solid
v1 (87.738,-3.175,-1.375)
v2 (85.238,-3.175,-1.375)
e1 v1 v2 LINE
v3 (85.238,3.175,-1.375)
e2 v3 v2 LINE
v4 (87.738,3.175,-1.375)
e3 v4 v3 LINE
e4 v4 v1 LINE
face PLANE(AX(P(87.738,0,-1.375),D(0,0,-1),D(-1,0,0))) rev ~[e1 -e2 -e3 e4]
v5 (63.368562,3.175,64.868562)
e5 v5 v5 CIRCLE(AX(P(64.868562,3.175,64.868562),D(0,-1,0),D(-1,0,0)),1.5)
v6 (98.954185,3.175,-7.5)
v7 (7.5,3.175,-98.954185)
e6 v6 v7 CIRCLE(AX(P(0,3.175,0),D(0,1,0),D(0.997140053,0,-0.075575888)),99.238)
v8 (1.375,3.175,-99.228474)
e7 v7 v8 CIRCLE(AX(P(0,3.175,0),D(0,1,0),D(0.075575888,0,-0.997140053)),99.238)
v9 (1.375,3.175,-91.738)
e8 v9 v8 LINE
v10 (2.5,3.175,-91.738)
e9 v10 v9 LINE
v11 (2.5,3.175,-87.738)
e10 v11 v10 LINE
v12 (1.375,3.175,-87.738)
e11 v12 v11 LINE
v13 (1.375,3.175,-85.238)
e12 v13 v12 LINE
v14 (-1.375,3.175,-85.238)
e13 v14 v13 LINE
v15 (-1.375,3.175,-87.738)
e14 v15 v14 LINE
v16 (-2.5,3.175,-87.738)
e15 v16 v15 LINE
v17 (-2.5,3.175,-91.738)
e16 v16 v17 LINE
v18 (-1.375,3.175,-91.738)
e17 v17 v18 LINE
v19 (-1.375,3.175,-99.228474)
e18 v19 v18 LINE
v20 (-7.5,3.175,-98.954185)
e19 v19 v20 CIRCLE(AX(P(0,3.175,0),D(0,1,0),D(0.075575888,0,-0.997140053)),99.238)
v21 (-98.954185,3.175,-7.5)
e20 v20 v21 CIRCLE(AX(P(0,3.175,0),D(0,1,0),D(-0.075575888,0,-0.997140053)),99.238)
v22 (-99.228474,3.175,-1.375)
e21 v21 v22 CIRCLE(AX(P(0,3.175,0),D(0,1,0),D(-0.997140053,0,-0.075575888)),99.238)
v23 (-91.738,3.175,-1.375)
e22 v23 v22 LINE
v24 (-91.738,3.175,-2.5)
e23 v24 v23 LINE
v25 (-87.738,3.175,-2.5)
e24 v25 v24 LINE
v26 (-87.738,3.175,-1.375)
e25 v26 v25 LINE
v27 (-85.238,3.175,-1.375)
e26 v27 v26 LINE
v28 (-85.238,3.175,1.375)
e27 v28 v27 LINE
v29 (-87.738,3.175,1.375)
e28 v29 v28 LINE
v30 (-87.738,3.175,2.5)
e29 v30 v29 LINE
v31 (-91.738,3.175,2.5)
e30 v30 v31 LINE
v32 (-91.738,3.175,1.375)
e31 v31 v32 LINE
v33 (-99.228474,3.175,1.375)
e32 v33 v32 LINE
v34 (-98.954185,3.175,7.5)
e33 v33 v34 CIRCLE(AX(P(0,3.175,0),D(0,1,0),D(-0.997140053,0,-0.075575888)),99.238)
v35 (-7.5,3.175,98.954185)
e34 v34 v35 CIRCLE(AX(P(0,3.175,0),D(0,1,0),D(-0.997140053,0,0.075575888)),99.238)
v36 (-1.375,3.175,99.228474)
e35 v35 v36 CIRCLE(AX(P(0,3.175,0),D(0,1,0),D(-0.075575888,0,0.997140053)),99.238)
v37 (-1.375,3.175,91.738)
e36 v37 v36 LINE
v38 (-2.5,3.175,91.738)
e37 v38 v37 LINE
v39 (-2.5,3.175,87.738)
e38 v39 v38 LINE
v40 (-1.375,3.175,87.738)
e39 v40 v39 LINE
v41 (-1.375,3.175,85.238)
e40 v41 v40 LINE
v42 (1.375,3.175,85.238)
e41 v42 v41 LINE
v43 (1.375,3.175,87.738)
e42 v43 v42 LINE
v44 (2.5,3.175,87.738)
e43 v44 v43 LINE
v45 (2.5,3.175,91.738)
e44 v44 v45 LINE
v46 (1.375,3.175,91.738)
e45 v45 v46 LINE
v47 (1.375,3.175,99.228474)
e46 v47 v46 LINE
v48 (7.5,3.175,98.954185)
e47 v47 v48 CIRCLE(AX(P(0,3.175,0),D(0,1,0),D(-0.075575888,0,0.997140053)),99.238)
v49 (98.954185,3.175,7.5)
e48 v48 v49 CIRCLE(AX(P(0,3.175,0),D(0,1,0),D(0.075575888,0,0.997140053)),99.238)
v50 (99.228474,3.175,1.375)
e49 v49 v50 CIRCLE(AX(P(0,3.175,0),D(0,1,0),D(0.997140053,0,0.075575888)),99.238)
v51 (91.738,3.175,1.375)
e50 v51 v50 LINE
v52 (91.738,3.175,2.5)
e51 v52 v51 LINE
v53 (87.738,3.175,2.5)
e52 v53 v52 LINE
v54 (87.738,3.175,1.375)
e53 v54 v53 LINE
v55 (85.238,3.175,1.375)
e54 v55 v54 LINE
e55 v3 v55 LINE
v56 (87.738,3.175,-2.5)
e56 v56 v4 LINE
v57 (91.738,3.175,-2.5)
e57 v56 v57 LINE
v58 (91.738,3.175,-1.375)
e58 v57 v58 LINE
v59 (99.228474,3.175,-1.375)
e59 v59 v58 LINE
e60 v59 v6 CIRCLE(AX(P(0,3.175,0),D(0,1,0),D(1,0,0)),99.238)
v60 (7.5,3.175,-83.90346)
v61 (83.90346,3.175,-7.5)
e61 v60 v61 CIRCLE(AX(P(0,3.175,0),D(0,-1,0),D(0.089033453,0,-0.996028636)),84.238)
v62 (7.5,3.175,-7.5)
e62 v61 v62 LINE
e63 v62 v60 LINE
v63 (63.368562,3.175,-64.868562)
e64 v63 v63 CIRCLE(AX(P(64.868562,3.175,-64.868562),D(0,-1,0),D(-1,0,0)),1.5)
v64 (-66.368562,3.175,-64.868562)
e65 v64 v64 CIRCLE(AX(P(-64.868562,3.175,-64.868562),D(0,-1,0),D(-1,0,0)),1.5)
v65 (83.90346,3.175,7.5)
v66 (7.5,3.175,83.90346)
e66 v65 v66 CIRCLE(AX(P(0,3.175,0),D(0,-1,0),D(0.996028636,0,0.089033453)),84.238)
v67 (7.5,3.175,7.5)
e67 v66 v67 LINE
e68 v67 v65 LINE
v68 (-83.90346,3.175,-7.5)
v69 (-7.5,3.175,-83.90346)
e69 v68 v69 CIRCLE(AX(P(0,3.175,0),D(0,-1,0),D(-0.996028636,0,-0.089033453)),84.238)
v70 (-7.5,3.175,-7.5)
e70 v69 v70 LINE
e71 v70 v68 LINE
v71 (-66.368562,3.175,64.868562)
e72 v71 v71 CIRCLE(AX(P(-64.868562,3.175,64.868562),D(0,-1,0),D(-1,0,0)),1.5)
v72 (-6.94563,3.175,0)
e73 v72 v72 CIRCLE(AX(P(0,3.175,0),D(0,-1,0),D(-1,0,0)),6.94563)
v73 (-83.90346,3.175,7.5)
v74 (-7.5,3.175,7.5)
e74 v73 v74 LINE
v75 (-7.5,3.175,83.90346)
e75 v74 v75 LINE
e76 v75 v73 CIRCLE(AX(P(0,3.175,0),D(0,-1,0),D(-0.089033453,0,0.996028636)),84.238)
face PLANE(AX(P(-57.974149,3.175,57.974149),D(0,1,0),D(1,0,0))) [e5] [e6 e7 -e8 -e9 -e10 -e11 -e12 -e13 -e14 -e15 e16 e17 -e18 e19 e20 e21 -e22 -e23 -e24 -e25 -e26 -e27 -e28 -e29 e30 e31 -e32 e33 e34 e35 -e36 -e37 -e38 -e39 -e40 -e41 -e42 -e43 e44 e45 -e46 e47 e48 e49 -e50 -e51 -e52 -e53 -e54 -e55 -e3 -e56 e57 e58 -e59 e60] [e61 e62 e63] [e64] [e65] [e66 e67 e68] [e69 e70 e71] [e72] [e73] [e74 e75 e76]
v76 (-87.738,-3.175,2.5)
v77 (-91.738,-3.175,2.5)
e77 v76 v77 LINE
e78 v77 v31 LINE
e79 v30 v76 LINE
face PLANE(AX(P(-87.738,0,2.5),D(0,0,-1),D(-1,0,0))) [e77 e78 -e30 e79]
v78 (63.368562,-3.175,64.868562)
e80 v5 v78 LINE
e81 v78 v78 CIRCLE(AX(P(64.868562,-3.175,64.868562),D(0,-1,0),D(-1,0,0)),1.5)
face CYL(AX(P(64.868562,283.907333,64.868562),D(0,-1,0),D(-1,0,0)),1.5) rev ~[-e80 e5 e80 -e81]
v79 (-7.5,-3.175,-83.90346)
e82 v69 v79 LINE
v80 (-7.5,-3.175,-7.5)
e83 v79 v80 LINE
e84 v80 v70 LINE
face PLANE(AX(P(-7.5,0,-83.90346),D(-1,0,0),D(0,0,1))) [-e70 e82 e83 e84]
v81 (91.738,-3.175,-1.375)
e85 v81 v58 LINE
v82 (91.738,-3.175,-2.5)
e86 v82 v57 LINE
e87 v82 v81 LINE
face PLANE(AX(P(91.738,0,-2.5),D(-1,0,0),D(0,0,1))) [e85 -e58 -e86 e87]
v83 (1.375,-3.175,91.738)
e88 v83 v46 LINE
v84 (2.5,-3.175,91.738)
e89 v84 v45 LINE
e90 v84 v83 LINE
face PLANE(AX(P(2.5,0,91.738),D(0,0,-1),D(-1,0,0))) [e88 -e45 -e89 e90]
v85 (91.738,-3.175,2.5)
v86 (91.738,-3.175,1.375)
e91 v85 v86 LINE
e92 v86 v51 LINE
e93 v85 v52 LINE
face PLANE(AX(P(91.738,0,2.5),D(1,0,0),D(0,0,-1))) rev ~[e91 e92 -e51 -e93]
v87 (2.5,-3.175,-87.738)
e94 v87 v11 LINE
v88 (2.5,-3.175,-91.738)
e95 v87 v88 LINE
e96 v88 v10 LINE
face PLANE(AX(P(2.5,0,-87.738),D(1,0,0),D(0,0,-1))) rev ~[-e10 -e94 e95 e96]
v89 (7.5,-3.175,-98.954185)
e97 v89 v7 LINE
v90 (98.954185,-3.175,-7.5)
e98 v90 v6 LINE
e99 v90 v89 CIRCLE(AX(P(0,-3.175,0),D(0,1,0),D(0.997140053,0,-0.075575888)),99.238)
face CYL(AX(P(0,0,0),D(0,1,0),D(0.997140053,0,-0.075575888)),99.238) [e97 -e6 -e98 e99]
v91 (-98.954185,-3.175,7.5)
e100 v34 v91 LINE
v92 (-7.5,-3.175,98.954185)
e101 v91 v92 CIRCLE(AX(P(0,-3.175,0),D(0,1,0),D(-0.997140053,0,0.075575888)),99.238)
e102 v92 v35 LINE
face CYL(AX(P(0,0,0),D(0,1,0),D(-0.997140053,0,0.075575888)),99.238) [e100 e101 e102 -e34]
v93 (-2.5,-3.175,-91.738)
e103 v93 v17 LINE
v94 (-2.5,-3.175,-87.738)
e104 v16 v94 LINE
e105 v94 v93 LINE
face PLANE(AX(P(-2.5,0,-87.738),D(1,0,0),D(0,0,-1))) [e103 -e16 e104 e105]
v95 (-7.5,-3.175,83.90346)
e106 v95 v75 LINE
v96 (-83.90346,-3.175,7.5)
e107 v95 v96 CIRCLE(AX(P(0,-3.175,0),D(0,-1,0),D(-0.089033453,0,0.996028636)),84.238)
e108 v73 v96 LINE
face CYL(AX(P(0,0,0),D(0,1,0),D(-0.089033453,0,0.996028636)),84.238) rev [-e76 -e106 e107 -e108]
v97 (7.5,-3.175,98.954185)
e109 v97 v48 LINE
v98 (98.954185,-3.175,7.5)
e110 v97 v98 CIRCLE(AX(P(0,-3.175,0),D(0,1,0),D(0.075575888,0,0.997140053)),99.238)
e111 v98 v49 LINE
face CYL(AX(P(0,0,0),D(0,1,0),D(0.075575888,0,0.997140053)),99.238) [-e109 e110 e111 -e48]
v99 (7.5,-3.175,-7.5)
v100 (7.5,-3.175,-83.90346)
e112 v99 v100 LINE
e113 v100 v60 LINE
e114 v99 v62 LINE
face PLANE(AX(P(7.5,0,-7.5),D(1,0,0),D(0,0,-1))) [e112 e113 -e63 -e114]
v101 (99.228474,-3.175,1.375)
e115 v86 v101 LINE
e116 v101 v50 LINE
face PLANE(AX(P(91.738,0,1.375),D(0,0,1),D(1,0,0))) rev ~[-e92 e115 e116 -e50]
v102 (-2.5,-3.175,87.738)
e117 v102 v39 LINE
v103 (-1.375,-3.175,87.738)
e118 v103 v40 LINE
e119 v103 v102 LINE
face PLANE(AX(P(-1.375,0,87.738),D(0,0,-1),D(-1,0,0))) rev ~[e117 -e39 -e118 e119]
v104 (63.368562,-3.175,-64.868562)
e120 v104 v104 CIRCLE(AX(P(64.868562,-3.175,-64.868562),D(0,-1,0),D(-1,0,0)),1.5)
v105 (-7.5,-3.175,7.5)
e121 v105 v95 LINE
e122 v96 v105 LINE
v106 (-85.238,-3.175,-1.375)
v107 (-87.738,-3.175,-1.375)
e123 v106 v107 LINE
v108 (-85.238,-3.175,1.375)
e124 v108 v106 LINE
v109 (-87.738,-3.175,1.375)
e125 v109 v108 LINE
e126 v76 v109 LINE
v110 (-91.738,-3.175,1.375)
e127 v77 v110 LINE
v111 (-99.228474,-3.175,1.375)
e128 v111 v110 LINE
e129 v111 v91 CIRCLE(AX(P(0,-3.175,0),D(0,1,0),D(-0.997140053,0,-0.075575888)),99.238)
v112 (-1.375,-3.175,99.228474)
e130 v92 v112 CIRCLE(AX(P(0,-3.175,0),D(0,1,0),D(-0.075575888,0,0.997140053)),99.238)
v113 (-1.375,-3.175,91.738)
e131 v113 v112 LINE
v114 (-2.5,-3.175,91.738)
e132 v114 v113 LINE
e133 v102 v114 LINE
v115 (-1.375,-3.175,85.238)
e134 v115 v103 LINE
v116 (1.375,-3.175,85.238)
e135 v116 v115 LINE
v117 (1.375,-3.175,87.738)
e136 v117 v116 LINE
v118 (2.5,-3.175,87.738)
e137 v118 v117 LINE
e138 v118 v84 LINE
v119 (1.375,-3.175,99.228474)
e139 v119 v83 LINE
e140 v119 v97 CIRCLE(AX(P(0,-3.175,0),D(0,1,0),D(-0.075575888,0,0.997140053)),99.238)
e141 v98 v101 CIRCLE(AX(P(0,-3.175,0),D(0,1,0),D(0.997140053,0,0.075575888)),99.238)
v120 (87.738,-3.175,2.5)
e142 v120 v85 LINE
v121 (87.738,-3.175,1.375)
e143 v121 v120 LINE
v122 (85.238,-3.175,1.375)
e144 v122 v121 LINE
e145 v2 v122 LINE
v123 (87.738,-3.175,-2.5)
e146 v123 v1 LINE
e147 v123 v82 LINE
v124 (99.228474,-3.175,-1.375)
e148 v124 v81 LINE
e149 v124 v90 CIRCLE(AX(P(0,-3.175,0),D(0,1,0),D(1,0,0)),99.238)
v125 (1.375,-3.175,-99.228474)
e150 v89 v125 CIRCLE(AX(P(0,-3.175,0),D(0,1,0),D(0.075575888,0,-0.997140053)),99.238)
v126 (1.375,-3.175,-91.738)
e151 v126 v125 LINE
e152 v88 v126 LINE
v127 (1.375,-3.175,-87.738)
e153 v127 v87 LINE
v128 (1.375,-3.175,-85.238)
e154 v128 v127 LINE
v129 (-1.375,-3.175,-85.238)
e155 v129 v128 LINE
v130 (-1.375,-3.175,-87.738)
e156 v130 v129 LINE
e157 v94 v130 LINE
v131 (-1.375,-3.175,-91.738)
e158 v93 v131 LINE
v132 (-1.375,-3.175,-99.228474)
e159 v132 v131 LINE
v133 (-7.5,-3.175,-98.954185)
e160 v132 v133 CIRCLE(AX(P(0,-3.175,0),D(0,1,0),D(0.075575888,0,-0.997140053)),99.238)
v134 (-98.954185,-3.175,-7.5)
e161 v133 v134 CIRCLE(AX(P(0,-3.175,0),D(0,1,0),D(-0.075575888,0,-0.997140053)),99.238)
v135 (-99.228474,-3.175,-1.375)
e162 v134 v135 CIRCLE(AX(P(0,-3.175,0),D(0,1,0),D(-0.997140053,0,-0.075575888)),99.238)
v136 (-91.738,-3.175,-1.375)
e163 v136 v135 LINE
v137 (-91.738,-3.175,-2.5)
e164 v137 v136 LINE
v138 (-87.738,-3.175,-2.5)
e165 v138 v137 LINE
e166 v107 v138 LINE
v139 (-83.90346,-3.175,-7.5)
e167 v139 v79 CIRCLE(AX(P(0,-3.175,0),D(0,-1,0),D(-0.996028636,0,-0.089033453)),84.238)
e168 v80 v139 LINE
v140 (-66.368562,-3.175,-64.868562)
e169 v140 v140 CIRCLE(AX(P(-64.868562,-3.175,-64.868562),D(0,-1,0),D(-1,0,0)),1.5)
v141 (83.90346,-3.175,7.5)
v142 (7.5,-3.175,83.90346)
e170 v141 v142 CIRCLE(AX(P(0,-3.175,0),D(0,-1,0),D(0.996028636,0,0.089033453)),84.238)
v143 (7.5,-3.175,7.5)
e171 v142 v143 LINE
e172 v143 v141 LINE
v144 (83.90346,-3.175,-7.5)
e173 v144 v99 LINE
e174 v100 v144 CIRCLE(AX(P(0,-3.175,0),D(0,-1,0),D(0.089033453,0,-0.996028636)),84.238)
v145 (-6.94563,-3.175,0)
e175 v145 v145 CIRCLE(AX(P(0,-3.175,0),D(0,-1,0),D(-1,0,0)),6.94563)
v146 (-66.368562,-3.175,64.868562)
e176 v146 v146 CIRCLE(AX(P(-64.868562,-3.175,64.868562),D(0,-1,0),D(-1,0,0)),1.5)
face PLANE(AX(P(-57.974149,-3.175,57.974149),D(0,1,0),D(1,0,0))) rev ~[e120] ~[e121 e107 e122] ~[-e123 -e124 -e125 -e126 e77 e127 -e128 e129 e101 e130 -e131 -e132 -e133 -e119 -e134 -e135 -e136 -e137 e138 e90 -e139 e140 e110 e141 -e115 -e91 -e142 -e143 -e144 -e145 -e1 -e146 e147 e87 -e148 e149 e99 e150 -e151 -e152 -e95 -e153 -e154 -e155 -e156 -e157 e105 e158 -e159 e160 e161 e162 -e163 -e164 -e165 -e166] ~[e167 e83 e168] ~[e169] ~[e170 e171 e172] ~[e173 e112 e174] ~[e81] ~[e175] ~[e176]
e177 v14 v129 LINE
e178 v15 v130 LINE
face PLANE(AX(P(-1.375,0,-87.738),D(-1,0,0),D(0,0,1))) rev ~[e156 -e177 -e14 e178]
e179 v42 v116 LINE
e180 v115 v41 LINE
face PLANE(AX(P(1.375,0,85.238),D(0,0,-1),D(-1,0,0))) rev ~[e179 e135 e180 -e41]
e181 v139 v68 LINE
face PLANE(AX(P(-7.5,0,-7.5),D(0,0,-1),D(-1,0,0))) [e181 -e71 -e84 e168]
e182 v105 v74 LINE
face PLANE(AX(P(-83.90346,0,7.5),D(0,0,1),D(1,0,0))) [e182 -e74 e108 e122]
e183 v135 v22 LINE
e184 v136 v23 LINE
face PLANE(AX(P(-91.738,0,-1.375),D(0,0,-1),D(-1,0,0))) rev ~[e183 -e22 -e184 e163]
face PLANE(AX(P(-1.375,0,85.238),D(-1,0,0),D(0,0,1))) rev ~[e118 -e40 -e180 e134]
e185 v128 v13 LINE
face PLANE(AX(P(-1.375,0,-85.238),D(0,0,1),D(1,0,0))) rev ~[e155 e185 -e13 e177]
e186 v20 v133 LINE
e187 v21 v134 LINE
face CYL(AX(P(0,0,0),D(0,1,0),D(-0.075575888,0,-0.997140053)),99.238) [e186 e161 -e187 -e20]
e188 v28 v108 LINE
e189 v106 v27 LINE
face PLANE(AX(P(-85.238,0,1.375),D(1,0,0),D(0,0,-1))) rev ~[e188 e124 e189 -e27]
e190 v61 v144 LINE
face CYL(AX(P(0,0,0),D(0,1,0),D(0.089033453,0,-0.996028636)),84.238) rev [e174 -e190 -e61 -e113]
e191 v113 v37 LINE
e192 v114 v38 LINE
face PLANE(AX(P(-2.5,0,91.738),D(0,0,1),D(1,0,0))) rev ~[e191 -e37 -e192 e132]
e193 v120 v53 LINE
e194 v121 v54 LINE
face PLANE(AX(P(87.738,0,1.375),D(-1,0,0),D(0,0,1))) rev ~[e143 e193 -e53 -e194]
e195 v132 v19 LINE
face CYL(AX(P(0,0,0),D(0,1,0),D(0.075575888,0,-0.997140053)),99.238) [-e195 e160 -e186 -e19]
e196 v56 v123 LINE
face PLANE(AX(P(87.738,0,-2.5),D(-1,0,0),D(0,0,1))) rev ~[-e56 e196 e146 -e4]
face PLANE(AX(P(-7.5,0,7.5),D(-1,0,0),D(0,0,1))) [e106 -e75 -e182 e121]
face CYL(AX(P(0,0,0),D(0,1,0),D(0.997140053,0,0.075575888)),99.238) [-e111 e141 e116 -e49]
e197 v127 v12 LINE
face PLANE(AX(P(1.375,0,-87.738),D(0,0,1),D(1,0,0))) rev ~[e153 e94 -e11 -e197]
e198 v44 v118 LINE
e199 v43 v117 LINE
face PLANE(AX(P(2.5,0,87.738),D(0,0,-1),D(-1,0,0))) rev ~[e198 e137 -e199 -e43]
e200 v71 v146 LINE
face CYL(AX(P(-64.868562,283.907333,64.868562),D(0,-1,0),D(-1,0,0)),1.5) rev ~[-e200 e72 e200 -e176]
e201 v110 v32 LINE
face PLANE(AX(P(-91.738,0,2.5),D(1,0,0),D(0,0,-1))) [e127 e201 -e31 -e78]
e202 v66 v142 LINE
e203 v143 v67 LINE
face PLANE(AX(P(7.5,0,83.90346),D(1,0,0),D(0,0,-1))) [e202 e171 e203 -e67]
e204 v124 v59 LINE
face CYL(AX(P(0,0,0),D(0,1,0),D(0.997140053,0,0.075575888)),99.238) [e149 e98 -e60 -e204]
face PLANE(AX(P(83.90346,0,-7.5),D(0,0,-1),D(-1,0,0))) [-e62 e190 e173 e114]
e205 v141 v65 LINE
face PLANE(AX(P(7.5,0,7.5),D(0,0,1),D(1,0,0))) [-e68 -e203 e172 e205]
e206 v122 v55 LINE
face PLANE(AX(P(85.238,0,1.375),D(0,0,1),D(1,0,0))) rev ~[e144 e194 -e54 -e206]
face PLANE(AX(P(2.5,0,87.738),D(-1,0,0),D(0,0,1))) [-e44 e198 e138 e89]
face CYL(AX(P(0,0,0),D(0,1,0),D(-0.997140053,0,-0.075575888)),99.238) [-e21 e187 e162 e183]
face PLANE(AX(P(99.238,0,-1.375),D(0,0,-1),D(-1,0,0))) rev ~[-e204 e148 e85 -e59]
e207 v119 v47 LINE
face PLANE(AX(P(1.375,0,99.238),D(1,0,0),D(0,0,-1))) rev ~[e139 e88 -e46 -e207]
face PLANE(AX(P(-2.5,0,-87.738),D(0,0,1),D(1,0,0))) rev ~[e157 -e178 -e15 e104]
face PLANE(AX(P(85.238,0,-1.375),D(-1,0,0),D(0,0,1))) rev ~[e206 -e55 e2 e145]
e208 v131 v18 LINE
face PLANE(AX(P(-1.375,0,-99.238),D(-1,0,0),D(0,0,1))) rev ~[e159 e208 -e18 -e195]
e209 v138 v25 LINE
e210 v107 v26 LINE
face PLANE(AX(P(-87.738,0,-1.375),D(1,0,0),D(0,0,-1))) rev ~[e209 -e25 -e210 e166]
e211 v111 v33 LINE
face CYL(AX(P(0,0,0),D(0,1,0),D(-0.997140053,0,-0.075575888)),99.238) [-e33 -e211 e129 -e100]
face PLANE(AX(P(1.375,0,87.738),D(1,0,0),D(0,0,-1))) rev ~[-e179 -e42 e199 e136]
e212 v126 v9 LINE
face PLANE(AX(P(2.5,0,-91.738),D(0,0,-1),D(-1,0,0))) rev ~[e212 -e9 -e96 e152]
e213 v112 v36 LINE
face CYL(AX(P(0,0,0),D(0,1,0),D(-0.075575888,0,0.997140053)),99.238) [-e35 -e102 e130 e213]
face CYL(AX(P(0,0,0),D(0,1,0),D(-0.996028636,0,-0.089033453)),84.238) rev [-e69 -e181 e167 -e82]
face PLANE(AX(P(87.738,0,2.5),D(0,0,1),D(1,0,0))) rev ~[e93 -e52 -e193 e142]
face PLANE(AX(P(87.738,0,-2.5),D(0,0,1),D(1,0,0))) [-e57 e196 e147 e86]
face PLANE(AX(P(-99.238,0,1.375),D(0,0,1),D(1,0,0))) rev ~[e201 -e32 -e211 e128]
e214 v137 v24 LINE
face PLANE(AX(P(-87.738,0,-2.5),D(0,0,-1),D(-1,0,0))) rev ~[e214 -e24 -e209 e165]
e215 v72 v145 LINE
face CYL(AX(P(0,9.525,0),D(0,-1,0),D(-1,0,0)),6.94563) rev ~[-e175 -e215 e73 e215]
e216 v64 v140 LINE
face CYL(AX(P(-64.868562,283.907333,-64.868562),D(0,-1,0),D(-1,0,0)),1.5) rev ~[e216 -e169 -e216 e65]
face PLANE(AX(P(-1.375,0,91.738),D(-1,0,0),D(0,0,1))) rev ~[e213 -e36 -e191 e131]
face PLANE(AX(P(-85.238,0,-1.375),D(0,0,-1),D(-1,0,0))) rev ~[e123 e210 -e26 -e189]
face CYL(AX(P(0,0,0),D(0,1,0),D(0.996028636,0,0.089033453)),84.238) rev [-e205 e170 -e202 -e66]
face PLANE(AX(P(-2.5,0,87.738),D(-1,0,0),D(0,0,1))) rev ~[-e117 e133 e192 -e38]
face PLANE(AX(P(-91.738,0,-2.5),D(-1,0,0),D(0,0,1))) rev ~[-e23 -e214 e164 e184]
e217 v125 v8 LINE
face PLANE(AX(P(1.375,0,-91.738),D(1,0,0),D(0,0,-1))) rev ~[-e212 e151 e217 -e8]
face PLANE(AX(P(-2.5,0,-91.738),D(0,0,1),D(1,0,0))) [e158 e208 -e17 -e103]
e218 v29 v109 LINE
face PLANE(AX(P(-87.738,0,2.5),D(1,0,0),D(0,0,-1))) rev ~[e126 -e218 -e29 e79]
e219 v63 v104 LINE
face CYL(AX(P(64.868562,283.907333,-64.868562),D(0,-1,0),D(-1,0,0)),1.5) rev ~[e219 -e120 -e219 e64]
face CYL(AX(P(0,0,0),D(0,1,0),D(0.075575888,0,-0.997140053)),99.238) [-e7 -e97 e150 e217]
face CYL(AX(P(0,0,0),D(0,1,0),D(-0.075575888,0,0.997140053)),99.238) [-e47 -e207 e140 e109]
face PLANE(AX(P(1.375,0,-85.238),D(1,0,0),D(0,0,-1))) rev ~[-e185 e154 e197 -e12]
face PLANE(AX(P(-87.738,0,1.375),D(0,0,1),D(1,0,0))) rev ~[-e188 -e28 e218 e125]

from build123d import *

# Parameters (mm, degrees)
SKETCH1_W                   = 15
SKETCH1_H                   = 15
BOSS_EXTRUDE1_DEPTH         = 3.175
SKETCH2_W                   = 2.75
SKETCH2_H                   = 2.5
SKETCH2_H_2                 = 4
SKETCH2_W_2                 = 1.125
SKETCH2_H_3                 = 7.5
CUT_EXTRUDE1_DEPTH          = 141.379634965
CIRPATTERN1_COUNT           = 4
F_3_0_3_DIAMETER_HOLE1_D    = 3
F_1_2_CLEARANCE_HOLE1_D     = 13.89126
F_1_2_CLEARANCE_HOLE1_DEPTH = 6.35


with BuildPart() as part:
    # Sketch1 → Boss-Extrude1 (new, symmetric)
    with BuildSketch(Plane(origin=(0, 0, 0), x_dir=(1, 0, 0), z_dir=(0, 1, 0))):
        with BuildLine():
            Line((-83.903460262, -7.5), (-98.95418457, -7.5))
            ThreePointArc((-98.95418457, -7.5), (-70.171862751, -70.171862751), (-7.5, -98.95418457))
            Line((-7.5, -98.95418457), (-7.5, -83.903460262))
            ThreePointArc((-7.5, -83.903460262), (-59.565261034, -59.565261034), (-83.903460262, -7.5))
        make_face()
        with BuildLine():
            ThreePointArc((-98.95418457, 7.5), (-99.238, 0), (-98.95418457, -7.5))
            Line((-98.95418457, -7.5), (-83.903460262, -7.5))
            ThreePointArc((-83.903460262, -7.5), (-84.238, 0), (-83.903460262, 7.5))
            Line((-83.903460262, 7.5), (-98.95418457, 7.5))
        make_face()
        with BuildLine():
            Line((83.903460262, -7.5), (98.95418457, -7.5))
            ThreePointArc((98.95418457, -7.5), (99.167020759, -3.752684079), (99.238, 0))
            ThreePointArc((99.238, 0), (99.167020759, 3.752684079), (98.95418457, 7.5))
            Line((98.95418457, 7.5), (83.903460262, 7.5))
            ThreePointArc((83.903460262, 7.5), (84.154323506, 3.753728707), (84.238, 0))
            ThreePointArc((84.238, 0), (84.154323506, -3.753728707), (83.903460262, -7.5))
        make_face()
        with BuildLine():
            ThreePointArc((-7.5, 98.95418457), (-70.171862751, 70.171862751), (-98.95418457, 7.5))
            Line((-98.95418457, 7.5), (-83.903460262, 7.5))
            ThreePointArc((-83.903460262, 7.5), (-59.565261034, 59.565261034), (-7.5, 83.903460262))
            Line((-7.5, 83.903460262), (-7.5, 98.95418457))
        make_face()
        with BuildLine():
            Line((-7.5, -83.903460262), (-7.5, -98.95418457))
            ThreePointArc((-7.5, -98.95418457), (0, -99.238), (7.5, -98.95418457))
            Line((7.5, -98.95418457), (7.5, -83.903460262))
            ThreePointArc((7.5, -83.903460262), (0, -84.238), (-7.5, -83.903460262))
        make_face()
        with BuildLine():
            ThreePointArc((7.5, 98.95418457), (0, 99.238), (-7.5, 98.95418457))
            Line((-7.5, 98.95418457), (-7.5, 83.903460262))
            ThreePointArc((-7.5, 83.903460262), (0, 84.238), (7.5, 83.903460262))
            Line((7.5, 83.903460262), (7.5, 98.95418457))
        make_face()
        with BuildLine():
            ThreePointArc((98.95418457, 7.5), (70.171862751, 70.171862751), (7.5, 98.95418457))
            Line((7.5, 98.95418457), (7.5, 83.903460262))
            ThreePointArc((7.5, 83.903460262), (59.565261034, 59.565261034), (83.903460262, 7.5))
            Line((83.903460262, 7.5), (98.95418457, 7.5))
        make_face()
        with BuildLine():
            Line((7.5, -83.903460262), (7.5, -98.95418457))
            ThreePointArc((7.5, -98.95418457), (70.171862751, -70.171862751), (98.95418457, -7.5))
            Line((98.95418457, -7.5), (83.903460262, -7.5))
            ThreePointArc((83.903460262, -7.5), (59.565261034, -59.565261034), (7.5, -83.903460262))
        make_face()
        with BuildLine():
            Line((7.5, -7.5), (-7.5, -7.5))
            Line((-7.5, -7.5), (-7.5, -83.903460262))
            ThreePointArc((-7.5, -83.903460262), (0, -84.238), (7.5, -83.903460262))
            Line((7.5, -83.903460262), (7.5, -7.5))
        make_face()
        with BuildLine():
            ThreePointArc((-83.903460262, 7.5), (-84.238, 0), (-83.903460262, -7.5))
            Line((-83.903460262, -7.5), (-7.5, -7.5))
            Line((-7.5, -7.5), (-7.5, 7.5))
            Line((-7.5, 7.5), (-83.903460262, 7.5))
        make_face()
        with BuildLine():
            Line((-7.5, 83.903460262), (-7.5, 7.5))
            Line((-7.5, 7.5), (7.5, 7.5))
            Line((7.5, 7.5), (7.5, 83.903460262))
            ThreePointArc((7.5, 83.903460262), (0, 84.238), (-7.5, 83.903460262))
        make_face()
        with BuildLine():
            Line((7.5, 7.5), (7.5, -7.5))
            Line((7.5, -7.5), (83.903460262, -7.5))
            ThreePointArc((83.903460262, -7.5), (84.154323506, -3.753728707), (84.238, 0))
            ThreePointArc((84.238, 0), (84.154323506, 3.753728707), (83.903460262, 7.5))
            Line((83.903460262, 7.5), (7.5, 7.5))
        make_face()
        Rectangle(SKETCH1_W, SKETCH1_H)
    extrude(amount=BOSS_EXTRUDE1_DEPTH, both=True)

    # Sketch2 → Cut-Extrude1 (cut, symmetric)
    with BuildSketch(Plane(origin=(0, 0, 0), x_dir=(1, 0, 0), z_dir=(0, 1, 0))):
        with Locations((0, 86.488)):
            Rectangle(SKETCH2_W, SKETCH2_H)
        with Locations((0, 89.738)):
            Rectangle(SKETCH2_W, SKETCH2_H_2)
        with Locations((1.9375, 89.738)):
            Rectangle(SKETCH2_W_2, SKETCH2_H_2)
        with Locations((0, 95.488)):
            Rectangle(SKETCH2_W, SKETCH2_H_3)
        with Locations((-1.9375, 89.738)):
            Rectangle(SKETCH2_W_2, SKETCH2_H_2)
    cut_extrude1 = extrude(amount=CUT_EXTRUDE1_DEPTH, both=True, mode=Mode.SUBTRACT)

    # CirPattern1: Cut-Extrude1 ×4 about axis
    cirpattern1_axis = Axis((0, 0, 0), (0, 1, 0))
    for i in range(1, CIRPATTERN1_COUNT):
        add(cut_extrude1.rotate(cirpattern1_axis, i * 360 / CIRPATTERN1_COUNT), mode=Mode.SUBTRACT)

    # Ø3.0 (3) Diameter Hole1 (through all)
    with Locations(Plane(origin=(0, 3.175, 0), x_dir=(1, 0, 0), z_dir=(0, 1, 0))):
        with Locations((-64.868561892, -64.868561892), (0, 0), (-64.868561892, 64.868561892), (64.868561892, 64.868561892), (64.868561892, -64.868561892)):
            Hole(F_3_0_3_DIAMETER_HOLE1_D / 2)

    # 1/2 Clearance Hole1
    with Locations(Plane(origin=(0, 3.175, 0), x_dir=(1, 0, 0), z_dir=(0, 1, 0))):
        with Locations((0, 0)):
            Hole(F_1_2_CLEARANCE_HOLE1_D / 2, depth=F_1_2_CLEARANCE_HOLE1_DEPTH)


solid = part.part
